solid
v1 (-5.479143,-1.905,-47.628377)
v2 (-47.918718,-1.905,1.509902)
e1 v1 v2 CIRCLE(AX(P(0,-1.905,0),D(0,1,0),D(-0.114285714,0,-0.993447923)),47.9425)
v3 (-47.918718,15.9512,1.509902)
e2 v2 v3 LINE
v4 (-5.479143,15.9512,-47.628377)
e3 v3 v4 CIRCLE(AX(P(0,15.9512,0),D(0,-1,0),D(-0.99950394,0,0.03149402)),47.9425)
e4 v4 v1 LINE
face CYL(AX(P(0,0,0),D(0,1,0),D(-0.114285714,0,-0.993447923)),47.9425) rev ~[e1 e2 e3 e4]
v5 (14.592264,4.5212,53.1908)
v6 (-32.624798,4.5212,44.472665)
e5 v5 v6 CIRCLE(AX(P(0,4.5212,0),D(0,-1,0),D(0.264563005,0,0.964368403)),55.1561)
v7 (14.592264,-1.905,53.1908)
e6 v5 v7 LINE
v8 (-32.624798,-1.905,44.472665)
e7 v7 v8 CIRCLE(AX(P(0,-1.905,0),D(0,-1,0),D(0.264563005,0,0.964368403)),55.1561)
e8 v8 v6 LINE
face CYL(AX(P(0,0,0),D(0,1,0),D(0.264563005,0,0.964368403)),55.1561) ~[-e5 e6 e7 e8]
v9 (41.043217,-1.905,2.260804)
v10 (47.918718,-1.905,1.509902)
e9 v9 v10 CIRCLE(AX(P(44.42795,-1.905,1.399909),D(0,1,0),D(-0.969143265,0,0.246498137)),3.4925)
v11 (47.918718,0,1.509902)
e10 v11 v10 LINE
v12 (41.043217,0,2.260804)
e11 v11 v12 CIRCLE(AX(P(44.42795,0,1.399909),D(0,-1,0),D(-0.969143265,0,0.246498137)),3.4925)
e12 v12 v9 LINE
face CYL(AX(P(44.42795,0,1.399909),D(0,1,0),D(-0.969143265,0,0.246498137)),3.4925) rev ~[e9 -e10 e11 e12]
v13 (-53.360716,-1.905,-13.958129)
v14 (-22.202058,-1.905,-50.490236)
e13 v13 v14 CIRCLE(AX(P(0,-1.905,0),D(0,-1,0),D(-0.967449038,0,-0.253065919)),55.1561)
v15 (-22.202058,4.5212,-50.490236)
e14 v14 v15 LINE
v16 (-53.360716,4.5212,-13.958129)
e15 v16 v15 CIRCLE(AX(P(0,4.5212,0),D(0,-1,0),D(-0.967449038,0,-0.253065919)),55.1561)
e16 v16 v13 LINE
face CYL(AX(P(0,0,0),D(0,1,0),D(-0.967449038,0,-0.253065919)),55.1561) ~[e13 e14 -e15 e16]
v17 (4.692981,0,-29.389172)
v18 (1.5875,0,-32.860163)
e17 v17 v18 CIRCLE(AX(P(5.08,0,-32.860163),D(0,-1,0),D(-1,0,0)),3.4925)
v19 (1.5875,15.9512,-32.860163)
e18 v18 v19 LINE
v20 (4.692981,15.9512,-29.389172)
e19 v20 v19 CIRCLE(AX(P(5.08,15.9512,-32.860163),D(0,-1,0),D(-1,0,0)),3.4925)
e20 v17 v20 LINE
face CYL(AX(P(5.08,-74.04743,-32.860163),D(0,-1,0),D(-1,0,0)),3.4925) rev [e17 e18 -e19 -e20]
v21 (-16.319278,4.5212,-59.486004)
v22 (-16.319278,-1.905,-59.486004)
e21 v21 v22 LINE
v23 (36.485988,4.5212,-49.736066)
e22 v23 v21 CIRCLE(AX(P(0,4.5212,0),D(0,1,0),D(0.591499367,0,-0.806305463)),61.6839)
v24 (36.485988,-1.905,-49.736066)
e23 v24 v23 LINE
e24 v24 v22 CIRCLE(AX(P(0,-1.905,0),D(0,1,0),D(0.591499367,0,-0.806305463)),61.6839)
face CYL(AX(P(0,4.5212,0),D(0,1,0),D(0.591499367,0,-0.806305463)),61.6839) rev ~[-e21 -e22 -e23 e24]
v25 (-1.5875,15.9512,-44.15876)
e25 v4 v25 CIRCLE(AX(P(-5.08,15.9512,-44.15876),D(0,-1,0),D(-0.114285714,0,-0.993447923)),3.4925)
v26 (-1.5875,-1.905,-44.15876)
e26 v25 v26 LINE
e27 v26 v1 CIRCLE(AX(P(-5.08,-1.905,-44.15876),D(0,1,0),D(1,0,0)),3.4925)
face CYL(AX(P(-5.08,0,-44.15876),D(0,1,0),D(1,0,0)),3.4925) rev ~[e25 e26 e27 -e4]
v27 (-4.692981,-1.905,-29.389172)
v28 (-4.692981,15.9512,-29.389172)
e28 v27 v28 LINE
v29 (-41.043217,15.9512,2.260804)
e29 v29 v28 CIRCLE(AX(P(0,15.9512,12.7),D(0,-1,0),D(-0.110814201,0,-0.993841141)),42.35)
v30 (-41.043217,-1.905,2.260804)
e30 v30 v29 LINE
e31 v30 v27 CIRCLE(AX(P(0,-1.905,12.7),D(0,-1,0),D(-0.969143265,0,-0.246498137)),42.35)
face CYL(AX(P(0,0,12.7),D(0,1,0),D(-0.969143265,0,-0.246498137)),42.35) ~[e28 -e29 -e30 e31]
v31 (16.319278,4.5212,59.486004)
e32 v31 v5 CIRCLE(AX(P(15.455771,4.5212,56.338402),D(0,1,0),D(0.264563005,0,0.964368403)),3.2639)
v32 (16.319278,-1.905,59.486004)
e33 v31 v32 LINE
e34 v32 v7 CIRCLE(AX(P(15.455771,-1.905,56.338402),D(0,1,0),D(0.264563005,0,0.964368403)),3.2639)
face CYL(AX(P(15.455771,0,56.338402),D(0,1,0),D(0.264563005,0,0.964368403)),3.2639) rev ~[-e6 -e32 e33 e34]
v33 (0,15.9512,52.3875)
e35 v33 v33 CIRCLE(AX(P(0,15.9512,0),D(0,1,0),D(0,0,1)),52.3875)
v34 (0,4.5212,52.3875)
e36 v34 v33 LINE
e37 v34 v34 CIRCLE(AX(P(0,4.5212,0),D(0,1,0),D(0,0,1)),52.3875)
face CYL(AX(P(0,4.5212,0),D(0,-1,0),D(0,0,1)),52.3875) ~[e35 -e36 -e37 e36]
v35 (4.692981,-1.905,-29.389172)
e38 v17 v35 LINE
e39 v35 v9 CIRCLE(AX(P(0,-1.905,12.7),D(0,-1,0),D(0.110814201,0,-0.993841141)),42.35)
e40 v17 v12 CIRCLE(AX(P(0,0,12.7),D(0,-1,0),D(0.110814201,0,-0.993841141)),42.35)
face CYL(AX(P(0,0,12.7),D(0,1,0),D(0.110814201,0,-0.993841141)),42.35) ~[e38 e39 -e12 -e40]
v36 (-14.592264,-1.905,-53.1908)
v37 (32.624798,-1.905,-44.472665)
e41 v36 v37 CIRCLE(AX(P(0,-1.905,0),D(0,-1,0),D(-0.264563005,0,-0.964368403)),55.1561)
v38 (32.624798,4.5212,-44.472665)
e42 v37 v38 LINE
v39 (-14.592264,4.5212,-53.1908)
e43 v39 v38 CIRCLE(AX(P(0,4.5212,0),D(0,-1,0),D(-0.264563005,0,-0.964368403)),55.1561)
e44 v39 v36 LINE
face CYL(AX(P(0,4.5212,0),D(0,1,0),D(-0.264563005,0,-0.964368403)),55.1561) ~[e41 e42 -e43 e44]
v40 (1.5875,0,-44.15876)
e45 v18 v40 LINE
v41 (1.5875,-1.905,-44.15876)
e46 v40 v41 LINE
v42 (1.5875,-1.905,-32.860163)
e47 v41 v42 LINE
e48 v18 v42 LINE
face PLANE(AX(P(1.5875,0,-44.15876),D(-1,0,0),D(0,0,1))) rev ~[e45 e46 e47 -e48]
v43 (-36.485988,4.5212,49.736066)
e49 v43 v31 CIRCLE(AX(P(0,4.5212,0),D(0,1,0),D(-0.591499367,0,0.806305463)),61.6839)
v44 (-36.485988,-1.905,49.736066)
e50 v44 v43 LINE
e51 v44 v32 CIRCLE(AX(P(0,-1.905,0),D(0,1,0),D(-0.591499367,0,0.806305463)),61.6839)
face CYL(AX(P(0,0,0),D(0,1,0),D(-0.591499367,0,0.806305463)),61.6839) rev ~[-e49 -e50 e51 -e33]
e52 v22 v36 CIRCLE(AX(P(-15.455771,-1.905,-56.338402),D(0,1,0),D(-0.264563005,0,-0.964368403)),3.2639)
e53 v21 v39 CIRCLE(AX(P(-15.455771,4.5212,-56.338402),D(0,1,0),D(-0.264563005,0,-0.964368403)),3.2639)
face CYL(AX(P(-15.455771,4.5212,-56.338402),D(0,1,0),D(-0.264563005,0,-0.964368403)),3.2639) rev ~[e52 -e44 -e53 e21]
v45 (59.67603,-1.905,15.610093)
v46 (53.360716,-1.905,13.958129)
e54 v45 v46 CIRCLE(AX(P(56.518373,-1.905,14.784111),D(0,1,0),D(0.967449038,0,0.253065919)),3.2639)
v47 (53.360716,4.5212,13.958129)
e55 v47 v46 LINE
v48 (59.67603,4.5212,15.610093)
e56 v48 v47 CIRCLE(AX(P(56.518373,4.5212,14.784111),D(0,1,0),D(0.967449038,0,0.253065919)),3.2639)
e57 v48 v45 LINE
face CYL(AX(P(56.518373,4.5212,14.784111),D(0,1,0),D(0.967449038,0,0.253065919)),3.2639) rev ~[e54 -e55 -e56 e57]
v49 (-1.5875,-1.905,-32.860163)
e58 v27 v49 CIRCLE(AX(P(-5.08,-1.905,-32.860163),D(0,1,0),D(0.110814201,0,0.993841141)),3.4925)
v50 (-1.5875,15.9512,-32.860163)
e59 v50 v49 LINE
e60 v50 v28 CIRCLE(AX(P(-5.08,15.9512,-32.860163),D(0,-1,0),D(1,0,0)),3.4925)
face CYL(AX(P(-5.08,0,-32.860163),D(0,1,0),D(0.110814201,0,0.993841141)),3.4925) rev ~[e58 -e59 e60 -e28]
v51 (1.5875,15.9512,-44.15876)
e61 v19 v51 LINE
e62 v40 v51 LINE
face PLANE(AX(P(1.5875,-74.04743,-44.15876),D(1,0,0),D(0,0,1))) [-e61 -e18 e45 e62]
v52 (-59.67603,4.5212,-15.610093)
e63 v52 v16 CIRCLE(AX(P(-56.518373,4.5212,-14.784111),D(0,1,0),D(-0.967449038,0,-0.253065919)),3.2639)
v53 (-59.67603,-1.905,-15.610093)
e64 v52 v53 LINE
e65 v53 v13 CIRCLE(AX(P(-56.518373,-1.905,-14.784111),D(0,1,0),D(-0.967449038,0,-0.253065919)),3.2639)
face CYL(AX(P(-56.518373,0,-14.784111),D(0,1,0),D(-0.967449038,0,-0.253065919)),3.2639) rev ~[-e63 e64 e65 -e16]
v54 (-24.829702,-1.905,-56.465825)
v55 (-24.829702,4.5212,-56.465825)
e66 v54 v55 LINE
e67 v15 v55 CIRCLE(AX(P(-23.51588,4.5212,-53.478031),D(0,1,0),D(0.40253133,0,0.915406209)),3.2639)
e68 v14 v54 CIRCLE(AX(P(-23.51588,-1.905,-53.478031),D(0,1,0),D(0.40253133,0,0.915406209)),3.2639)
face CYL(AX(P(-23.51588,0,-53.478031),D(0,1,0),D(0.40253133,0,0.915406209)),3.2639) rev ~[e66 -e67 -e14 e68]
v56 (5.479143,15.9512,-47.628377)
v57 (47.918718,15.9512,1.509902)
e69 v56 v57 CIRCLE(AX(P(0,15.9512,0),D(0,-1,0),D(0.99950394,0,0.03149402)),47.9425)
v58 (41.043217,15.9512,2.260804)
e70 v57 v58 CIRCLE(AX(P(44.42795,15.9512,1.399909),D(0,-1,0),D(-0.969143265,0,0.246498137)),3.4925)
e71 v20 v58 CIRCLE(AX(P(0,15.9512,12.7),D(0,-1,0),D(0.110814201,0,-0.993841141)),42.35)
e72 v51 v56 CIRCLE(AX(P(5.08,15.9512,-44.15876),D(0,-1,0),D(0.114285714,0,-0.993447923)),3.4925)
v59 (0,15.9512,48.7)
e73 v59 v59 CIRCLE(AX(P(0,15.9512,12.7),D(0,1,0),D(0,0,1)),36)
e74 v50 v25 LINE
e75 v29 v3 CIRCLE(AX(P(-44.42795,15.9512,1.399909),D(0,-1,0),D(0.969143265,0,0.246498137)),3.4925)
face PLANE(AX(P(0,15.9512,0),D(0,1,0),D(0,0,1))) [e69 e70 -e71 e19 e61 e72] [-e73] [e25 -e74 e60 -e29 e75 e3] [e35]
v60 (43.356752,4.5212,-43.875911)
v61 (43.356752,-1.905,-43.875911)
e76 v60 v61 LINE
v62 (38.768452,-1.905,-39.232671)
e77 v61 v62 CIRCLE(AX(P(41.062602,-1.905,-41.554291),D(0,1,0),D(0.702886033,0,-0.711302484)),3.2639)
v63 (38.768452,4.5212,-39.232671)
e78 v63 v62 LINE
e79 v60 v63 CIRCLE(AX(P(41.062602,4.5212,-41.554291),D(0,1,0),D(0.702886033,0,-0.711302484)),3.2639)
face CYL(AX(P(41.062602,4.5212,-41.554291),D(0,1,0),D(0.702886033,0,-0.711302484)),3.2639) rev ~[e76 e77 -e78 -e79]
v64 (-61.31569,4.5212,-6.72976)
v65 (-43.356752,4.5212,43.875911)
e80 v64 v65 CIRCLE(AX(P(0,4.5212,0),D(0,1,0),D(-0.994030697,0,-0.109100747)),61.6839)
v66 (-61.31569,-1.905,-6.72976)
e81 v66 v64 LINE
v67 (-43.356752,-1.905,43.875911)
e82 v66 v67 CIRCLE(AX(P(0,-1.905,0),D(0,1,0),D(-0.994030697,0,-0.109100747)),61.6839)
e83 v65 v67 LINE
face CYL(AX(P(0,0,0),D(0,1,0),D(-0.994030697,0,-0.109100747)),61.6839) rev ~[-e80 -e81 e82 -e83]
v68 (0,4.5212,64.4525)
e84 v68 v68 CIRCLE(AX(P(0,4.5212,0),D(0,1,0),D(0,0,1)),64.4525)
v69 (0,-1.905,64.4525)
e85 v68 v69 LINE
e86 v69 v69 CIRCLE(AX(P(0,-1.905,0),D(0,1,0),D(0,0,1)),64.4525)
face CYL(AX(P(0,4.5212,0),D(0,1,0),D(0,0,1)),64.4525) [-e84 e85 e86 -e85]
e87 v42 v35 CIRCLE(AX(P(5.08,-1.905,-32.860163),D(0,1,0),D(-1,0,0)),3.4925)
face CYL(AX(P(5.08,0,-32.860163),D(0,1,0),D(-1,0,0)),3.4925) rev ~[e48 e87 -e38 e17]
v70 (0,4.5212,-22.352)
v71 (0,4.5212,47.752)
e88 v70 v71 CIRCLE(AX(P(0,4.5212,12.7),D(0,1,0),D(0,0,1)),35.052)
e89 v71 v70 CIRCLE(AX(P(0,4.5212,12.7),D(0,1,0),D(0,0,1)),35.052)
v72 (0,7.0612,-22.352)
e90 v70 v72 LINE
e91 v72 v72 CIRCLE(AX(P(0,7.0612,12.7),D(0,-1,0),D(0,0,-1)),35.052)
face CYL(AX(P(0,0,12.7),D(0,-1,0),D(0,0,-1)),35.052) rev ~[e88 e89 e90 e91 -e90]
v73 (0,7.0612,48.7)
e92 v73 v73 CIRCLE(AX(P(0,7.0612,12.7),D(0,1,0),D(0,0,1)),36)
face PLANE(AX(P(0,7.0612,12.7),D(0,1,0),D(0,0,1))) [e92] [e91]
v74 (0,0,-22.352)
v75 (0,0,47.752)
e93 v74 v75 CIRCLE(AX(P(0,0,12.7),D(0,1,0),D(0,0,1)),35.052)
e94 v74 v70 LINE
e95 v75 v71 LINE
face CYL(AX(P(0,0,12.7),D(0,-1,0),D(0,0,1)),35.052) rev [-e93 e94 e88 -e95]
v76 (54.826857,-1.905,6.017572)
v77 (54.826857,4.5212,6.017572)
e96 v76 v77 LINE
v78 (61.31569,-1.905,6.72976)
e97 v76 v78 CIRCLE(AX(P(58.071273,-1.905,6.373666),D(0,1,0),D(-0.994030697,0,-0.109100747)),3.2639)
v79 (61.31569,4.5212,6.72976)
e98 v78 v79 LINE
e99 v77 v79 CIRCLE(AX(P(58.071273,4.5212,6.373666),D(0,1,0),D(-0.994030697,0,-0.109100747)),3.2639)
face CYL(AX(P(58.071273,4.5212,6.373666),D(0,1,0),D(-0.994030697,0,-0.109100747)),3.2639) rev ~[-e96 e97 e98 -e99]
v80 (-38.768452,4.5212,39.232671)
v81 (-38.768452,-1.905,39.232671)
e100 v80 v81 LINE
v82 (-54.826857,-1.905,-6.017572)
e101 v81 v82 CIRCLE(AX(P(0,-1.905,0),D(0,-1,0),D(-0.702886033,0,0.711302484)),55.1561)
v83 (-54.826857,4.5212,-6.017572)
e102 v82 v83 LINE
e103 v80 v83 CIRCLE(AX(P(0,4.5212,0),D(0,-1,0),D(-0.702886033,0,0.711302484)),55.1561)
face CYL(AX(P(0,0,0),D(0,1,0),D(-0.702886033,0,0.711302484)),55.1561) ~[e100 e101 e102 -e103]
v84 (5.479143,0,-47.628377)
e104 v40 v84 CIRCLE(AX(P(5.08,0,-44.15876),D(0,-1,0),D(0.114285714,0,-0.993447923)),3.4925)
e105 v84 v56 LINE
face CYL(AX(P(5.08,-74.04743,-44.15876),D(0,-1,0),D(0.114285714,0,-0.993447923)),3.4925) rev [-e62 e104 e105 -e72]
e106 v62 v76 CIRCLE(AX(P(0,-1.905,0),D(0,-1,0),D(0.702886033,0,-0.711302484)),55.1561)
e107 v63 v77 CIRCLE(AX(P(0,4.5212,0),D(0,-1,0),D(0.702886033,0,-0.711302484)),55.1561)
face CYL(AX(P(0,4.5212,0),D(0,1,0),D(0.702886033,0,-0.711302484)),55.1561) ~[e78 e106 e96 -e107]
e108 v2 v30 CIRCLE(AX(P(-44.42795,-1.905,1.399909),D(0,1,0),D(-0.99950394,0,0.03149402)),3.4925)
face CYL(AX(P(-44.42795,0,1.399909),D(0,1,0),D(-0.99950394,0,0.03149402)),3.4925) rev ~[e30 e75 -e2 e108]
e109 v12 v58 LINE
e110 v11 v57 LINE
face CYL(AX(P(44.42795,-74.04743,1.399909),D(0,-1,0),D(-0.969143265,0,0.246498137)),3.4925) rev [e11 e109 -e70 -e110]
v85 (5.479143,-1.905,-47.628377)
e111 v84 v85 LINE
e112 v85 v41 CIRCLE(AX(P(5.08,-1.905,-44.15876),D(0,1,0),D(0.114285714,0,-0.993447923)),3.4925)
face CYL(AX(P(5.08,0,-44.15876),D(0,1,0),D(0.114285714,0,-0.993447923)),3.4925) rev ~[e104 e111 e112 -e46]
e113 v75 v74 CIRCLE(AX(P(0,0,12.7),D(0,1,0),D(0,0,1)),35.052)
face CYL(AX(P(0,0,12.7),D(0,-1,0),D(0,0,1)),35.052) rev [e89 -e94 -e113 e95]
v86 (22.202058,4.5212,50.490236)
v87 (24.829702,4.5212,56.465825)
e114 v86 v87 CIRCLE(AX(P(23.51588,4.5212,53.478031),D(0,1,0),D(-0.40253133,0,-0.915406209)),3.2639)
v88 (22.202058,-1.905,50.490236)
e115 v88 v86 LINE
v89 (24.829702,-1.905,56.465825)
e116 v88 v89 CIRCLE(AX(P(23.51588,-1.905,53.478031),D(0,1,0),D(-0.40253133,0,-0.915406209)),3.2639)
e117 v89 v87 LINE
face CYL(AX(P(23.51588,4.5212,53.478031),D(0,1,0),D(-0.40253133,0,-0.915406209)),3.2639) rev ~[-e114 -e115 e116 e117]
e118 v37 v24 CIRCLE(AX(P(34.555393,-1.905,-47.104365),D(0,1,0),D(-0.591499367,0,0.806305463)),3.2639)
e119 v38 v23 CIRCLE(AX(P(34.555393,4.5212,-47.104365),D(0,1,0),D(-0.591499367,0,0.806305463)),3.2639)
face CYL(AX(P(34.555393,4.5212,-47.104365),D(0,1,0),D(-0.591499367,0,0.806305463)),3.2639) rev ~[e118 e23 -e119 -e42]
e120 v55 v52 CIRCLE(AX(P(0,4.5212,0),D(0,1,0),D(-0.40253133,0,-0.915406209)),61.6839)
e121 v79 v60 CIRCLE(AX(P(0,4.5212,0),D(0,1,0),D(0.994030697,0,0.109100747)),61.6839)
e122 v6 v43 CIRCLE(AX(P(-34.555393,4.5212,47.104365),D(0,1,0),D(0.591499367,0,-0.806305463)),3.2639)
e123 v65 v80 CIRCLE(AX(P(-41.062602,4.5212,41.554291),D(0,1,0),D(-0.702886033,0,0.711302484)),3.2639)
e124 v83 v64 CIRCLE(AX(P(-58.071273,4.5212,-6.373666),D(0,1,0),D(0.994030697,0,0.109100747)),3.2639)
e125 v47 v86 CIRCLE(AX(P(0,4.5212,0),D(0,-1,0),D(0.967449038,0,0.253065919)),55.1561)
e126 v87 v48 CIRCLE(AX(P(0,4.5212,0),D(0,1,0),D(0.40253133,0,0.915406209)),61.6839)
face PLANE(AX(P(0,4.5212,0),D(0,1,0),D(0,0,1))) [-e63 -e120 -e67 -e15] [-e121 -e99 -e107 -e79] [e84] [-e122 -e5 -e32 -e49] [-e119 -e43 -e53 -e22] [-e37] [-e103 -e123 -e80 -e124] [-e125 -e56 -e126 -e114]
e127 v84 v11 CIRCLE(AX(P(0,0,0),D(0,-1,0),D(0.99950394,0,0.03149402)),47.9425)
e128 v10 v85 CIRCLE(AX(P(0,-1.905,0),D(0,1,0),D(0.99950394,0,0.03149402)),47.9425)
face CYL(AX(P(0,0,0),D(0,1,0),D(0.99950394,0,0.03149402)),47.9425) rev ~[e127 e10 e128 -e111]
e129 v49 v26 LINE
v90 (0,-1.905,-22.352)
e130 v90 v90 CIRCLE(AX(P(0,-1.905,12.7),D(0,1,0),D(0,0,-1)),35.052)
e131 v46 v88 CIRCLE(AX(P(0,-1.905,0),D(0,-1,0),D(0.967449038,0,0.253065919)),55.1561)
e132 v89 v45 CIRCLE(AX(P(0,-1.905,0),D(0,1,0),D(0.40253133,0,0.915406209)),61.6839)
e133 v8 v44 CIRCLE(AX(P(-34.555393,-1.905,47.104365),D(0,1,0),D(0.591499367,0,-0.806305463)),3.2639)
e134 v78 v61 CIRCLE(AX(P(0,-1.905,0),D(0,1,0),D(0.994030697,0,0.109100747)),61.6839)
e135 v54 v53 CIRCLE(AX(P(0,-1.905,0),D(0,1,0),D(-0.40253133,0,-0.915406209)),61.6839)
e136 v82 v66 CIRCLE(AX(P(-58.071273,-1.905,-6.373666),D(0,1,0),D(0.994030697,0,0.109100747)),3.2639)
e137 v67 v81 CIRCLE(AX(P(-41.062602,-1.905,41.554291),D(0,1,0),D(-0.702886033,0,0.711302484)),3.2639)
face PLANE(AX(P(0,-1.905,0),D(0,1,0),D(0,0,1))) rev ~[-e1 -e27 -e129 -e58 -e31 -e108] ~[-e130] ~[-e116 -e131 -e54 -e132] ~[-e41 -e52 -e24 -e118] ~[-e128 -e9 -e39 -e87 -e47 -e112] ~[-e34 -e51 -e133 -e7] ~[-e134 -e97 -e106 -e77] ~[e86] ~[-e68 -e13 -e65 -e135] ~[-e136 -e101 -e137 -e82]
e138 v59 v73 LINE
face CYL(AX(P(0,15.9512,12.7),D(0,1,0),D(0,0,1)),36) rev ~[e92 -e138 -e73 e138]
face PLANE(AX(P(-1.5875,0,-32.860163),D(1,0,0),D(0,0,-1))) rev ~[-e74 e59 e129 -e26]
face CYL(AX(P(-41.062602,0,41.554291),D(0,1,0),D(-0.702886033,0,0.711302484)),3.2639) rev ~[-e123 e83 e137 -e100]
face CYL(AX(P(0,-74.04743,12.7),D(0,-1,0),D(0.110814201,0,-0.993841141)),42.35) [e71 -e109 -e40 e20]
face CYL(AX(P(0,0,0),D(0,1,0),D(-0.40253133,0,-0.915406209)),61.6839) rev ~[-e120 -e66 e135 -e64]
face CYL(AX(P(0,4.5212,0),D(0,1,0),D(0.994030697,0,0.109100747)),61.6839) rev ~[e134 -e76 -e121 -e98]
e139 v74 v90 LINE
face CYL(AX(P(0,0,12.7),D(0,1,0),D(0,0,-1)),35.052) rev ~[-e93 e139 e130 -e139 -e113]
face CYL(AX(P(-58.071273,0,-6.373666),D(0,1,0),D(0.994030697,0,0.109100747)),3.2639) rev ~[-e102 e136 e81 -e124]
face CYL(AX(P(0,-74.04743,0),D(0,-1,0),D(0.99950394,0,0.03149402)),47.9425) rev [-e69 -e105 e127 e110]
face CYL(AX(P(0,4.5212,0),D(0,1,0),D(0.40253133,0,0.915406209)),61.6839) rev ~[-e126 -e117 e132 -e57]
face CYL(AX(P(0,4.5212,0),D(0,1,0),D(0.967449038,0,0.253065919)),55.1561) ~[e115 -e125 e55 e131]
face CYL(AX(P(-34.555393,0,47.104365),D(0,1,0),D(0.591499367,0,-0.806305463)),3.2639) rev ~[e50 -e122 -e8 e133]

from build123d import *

# Parameters (mm, degrees)
SKETCH1_R               = 61.912499999999994
SKETCH1_R_2             = 35.05199999999999
BOSS_EXTRUDE1_DEPTH     = 4.521199999999999
SKETCH3_R               = 52.38750000000001
BOSS_EXTRUDE2_DEPTH     = 11.43
SKETCH4_R               = 35.05199999999999
CUT_EXTRUDE1_DEPTH      = 89.99862973068743
SKETCH9_R               = 36.000000009
CUT_EXTRUDE3_DEPTH      = 8.889999999999999
CUT_EXTRUDE6_DEPTH      = 4.5212
CIRPATTERN2_COUNT       = 6
CUT_EXTRUDE7_DEPTH      = 89.99862973068743
CUT_EXTRUDE7_DEPTH_BACK = 89.99862973068743
SKETCH28_R              = 61.912499999999994
BOSS_EXTRUDE6_DEPTH     = 1.9049999999999998
SKETCH29_R              = 64.4525
SKETCH29_R_2            = 61.912499999999994
BOSS_EXTRUDE7_DEPTH     = 6.4262


with BuildPart() as part:
    # Sketch1 → Boss-Extrude1 (new body)
    with BuildSketch(Plane(origin=(0, 0, 0), x_dir=(1, 0, 0), z_dir=(0, 1, 0))):
        with Locations(Location((0, 0, 0), (0, 0, 270))):
            Circle(SKETCH1_R)
        with Locations(Location((0, -12.7, 0), (0, 0, 270))):
            Circle(SKETCH1_R_2, mode=Mode.SUBTRACT)
    extrude(amount=BOSS_EXTRUDE1_DEPTH)

    # Sketch3 → Boss-Extrude2 (add)
    with BuildSketch(Plane(origin=(0, 4.521199999999999, 0), x_dir=(1, 0, 0), z_dir=(0, 1, 0))):
        with Locations(Location((0, 0, 0), (0, 0, 270))):
            Circle(SKETCH3_R)
    extrude(amount=BOSS_EXTRUDE2_DEPTH)

    # Sketch4 → Cut-Extrude1 (cut, through all)
    with BuildSketch(Plane.XZ):
        with Locations(Location((0, 12.7, 0), (0, 0, 270))):
            Circle(SKETCH4_R)
    extrude(amount=-CUT_EXTRUDE1_DEPTH, mode=Mode.SUBTRACT)

    # Sketch9 → Cut-Extrude3 (cut)
    with BuildSketch(Plane(origin=(0, 15.951199999999998, 0), x_dir=(1, 0, 0), z_dir=(0, 1, 0))):
        with Locations(Location((0, -12.7, 0), (0, 0, 270))):
            Circle(SKETCH9_R)
    extrude(amount=-CUT_EXTRUDE3_DEPTH, mode=Mode.SUBTRACT)

    # Sketch26 → Cut-Extrude6 (cut)
    with BuildSketch(Plane(origin=(0, 4.521199999999999, 0), x_dir=(1, 0, 0), z_dir=(0, 1, 0))):
        with BuildLine():
            ThreePointArc((-61.31569012651589, 6.729759543927394), (-58.13186307655321, -20.629833117571987), (-43.356751785354874, -43.87591131626929))
            ThreePointArc((-43.356751785354874, -43.87591131626929), (-38.740981882715914, -43.84844086137017), (-38.76845233761503, -39.23267095873121))
            ThreePointArc((-38.76845233761503, -39.23267095873121), (-51.979963216279714, -18.446647154542955), (-54.82685654096325, 6.017571690194909))
            ThreePointArc((-54.82685654096325, 6.017571690194909), (-57.71517940687332, 9.618082409837466), (-61.31569012651589, 6.729759543927394))
        make_face()
    cut_extrude6 = extrude(amount=-CUT_EXTRUDE6_DEPTH, mode=Mode.SUBTRACT)

    # CirPattern2: Cut-Extrude6 ×6 about axis
    cirpattern2_axis = Axis((1.126e-14, 0, 2.9e-14), (0, 1, 0))
    for i in range(1, CIRPATTERN2_COUNT):
        add(cut_extrude6.rotate(cirpattern2_axis, i * 360 / CIRPATTERN2_COUNT), mode=Mode.SUBTRACT)

    # Sketch27 → Cut-Extrude7 (cut, two sides: drawn at the far end of the back side and taken through both)
    with BuildSketch(Plane(origin=(0, 15.951199999999998, 0), x_dir=(1, 0, 0), z_dir=(0, 1, 0)).offset(-CUT_EXTRUDE7_DEPTH_BACK)):
        with BuildLine():
            Line((-1.5874999999999995, 44.15876017281289), (-1.5874999999999981, 32.860162500535104))
            ThreePointArc((-1.5874999999999981, 32.860162500535104), (-2.4771920261720077, 30.53144033991194), (-4.692981403795235, 29.38917231671267))
            ThreePointArc((-4.692981403795235, 29.38917231671267), (-27.80971442943092, 19.239666311904415), (-41.043217293560936, -2.2608039123771086))
            ThreePointArc((-41.043217293560936, -2.2608039123771086), (-44.807125891813406, -4.871764870752282), (-47.91871765916517, -1.509902033647368))
            ThreePointArc((-47.91871765916517, -1.509902033647368), (-36.283267418970276, 31.337003871676934), (-5.479142857142855, 47.62837704353388))
            ThreePointArc((-5.479142857142855, 47.62837704353388), (-2.7558281236719524, 46.76563211813081), (-1.5874999999999995, 44.15876017281289))
        make_face()
        with BuildLine():
            Line((1.5874999999999995, 44.15876017281289), (1.5874999999999981, 32.860162500535104))
            ThreePointArc((1.5874999999999981, 32.860162500535104), (2.4771920261720073, 30.53144033991194), (4.692981403795235, 29.38917231671267))
            ThreePointArc((4.692981403795235, 29.38917231671267), (27.809714429430915, 19.23966631190442), (41.043217293560936, -2.2608039123771086))
            ThreePointArc((41.043217293560936, -2.2608039123771086), (44.807125891813406, -4.871764870752282), (47.91871765916517, -1.509902033647368))
            ThreePointArc((47.91871765916517, -1.509902033647368), (36.28326741897028, 31.337003871676927), (5.479142857142855, 47.62837704353388))
            ThreePointArc((5.479142857142855, 47.62837704353388), (2.755828123671953, 46.76563211813081), (1.5874999999999995, 44.15876017281289))
        make_face()
    extrude(amount=CUT_EXTRUDE7_DEPTH + CUT_EXTRUDE7_DEPTH_BACK, mode=Mode.SUBTRACT)

    # Sketch28 → Boss-Extrude6 (add)
    with BuildSketch(Plane.XZ):
        with Locations(Location((0, 0, 0), (0, 0, 270))):
            Circle(SKETCH28_R)
        with BuildLine():
            ThreePointArc((-59.67602970675995, -15.610092813558284), (-57.34435464364428, -11.626454047298918), (-53.3607158773849, -13.958129110414555))
            ThreePointArc((-53.3607158773849, -13.958129110414557), (-41.96524665862243, -35.792645055806894), (-22.202058317679402, -50.490236419216366))
            ThreePointArc((-22.202058317679395, -50.490236419216366), (-20.528086000825798, -54.79185275524728), (-24.829702336856723, -56.465825072100834))
            ThreePointArc((-24.82970233685672, -56.465825072100834), (-46.93189109392796, -40.02875363482713), (-59.67602970675995, -15.610092813558284))
        make_face(mode=Mode.SUBTRACT)
        with BuildLine():
            Line((-1.5874999999999986, -32.860162500535104), (-1.5874999999999995, -44.15876017281289))
            ThreePointArc((-1.5874999999999977, -44.15876017281289), (-2.755828123671947, -46.76563211813081), (-5.4791428571428495, -47.62837704353388))
            ThreePointArc((-5.479142857142854, -47.62837704353389), (-36.28326741897027, -31.337003871676924), (-47.918717659165196, 1.5099020336473608))
            ThreePointArc((-47.918717659165196, 1.5099020336473605), (-44.80712589181342, 4.871764870752293), (-41.04321729356092, 2.2608039123771135))
            ThreePointArc((-41.04321729356093, 2.2608039123771135), (-27.8097144294309, -19.239666311904422), (-4.692981403795217, -29.389172316712667))
            ThreePointArc((-4.692981403795219, -29.38917231671267), (-2.4771920261720033, -30.531440339911942), (-1.587499999999999, -32.860162500535104))
        make_face(mode=Mode.SUBTRACT)
        with BuildLine():
            ThreePointArc((-16.319277921405433, -59.48600412982813), (-18.603372760928732, -55.47489490866959), (-14.592263539770187, -53.1908000691463))
            ThreePointArc((-14.592263539770187, -53.19080006914629), (10.014716557657184, -54.239292210350484), (32.62479822328402, -44.47266472902207))
            ThreePointArc((32.62479822328402, -44.47266472902206), (37.18709340604772, -45.173770345410375), (36.48598778965936, -49.73606552817407))
            ThreePointArc((36.48598778965937, -49.73606552817408), (11.199971982625161, -60.6585867523998), (-16.319277921405433, -59.48600412982813))
        make_face(mode=Mode.SUBTRACT)
        with BuildLine():
            Line((1.5874999999999995, -44.15876017281289), (1.5874999999999981, -32.860162500535104))
            ThreePointArc((1.5874999999999986, -32.860162500535104), (2.4771920261720077, -30.53144033991194), (4.692981403795235, -29.38917231671267))
            ThreePointArc((4.692981403795236, -29.389172316712674), (27.80971442943091, -19.239666311904415), (41.043217293560936, 2.260803912377108))
            ThreePointArc((41.043217293560936, 2.2608039123771118), (44.80712589181342, 4.871764870752304), (47.91871765916518, 1.509902033647373))
            ThreePointArc((47.918717659165196, 1.5099020336473767), (36.28326741897028, -31.337003871676927), (5.479142857142865, -47.62837704353388))
            ThreePointArc((5.479142857142865, -47.628377043533874), (2.755828123671944, -46.765632118130824), (1.587499999999999, -44.15876017281289))
        make_face(mode=Mode.SUBTRACT)
        with BuildLine():
            ThreePointArc((43.35675178535485, -43.8759113162693), (38.740981882715914, -43.848440861370165), (38.76845233761502, -39.232670958731234))
            ThreePointArc((38.76845233761502, -39.232670958731234), (51.9799632162797, -18.44664715454299), (54.82685654096326, 6.017571690194891))
            ThreePointArc((54.826856540963256, 6.017571690194889), (57.715179406873325, 9.61808240983748), (61.31569012651589, 6.729759543927382))
            ThreePointArc((61.3156901265159, 6.729759543927382), (58.131863076553195, -20.62983311757202), (43.35675178535486, -43.87591131626931))
        make_face(mode=Mode.SUBTRACT)
        with BuildLine():
            ThreePointArc((-43.356751785354874, 43.87591131626928), (-38.740981882715914, 43.84844086137017), (-38.76845233761503, 39.23267095873121))
            ThreePointArc((-38.76845233761503, 39.23267095873122), (-51.9799632162797, 18.446647154542973), (-54.82685654096326, -6.017571690194876))
            ThreePointArc((-54.826856540963256, -6.01757169019488), (-57.71517940687332, -9.618082409837479), (-61.31569012651589, -6.729759543927381))
            ThreePointArc((-61.31569012651589, -6.729759543927381), (-58.1318630765532, 20.629833117572), (-43.356751785354874, 43.875911316269274))
        make_face(mode=Mode.SUBTRACT)
        with BuildLine():
            ThreePointArc((16.31927792140503, 59.486004129828245), (18.603372760928355, 55.47489490866972), (14.592263539769828, 53.1908000691464))
            ThreePointArc((14.592263539769828, 53.1908000691464), (-10.014716557657586, 54.23929221035041), (-32.624798223284365, 44.472664729021815))
            ThreePointArc((-32.62479822328437, 44.472664729021815), (-37.187093406048064, 45.17377034541014), (-36.48598778965972, 49.73606552817383))
            ThreePointArc((-36.48598778965972, 49.73606552817383), (-11.19997198262558, 60.65858675239972), (16.31927792140503, 59.48600412982824))
        make_face(mode=Mode.SUBTRACT)
        with BuildLine():
            ThreePointArc((-1.342e-14, 47.75199999999998), (24.785506894150842, 37.48550689415085), (35.05199999999998, 12.7))
            ThreePointArc((35.05199999999998, 12.69999999999999), (24.785506894150842, -12.085506894150853), (-6.44e-15, -22.35199999999998))
            ThreePointArc((-6.44e-15, -22.35199999999998), (-35.05199999999998, 12.700000000000003), (-1.342e-14, 47.75199999999998))
        make_face(mode=Mode.SUBTRACT)
        with BuildLine():
            ThreePointArc((59.676029706759834, 15.61009281355871), (57.344354643644195, 11.626454047299315), (53.3607158773848, 13.958129110414966))
            ThreePointArc((53.3607158773848, 13.958129110414966), (41.96524665862217, 35.79264505580721), (22.20205831767902, 50.49023641921653))
            ThreePointArc((22.20205831767902, 50.49023641921653), (20.528086000825407, 54.79185275524743), (24.829702336856318, 56.465825072101026))
            ThreePointArc((24.829702336856318, 56.46582507210103), (46.931891093927675, 40.02875363482747), (59.676029706759834, 15.610092813558712))
        make_face(mode=Mode.SUBTRACT)
    extrude(amount=BOSS_EXTRUDE6_DEPTH)

    # Sketch29 → Boss-Extrude7 (add, through all)
    with BuildSketch(Plane(origin=(0, 4.521199999999999, 0), x_dir=(1, 0, 0), z_dir=(0, 1, 0))):
        with Locations(Location((0, 0, 0), (0, 0, 270))):
            Circle(SKETCH29_R)
        Circle(SKETCH29_R_2, mode=Mode.SUBTRACT)
    extrude(amount=-BOSS_EXTRUDE7_DEPTH)


solid = part.part
